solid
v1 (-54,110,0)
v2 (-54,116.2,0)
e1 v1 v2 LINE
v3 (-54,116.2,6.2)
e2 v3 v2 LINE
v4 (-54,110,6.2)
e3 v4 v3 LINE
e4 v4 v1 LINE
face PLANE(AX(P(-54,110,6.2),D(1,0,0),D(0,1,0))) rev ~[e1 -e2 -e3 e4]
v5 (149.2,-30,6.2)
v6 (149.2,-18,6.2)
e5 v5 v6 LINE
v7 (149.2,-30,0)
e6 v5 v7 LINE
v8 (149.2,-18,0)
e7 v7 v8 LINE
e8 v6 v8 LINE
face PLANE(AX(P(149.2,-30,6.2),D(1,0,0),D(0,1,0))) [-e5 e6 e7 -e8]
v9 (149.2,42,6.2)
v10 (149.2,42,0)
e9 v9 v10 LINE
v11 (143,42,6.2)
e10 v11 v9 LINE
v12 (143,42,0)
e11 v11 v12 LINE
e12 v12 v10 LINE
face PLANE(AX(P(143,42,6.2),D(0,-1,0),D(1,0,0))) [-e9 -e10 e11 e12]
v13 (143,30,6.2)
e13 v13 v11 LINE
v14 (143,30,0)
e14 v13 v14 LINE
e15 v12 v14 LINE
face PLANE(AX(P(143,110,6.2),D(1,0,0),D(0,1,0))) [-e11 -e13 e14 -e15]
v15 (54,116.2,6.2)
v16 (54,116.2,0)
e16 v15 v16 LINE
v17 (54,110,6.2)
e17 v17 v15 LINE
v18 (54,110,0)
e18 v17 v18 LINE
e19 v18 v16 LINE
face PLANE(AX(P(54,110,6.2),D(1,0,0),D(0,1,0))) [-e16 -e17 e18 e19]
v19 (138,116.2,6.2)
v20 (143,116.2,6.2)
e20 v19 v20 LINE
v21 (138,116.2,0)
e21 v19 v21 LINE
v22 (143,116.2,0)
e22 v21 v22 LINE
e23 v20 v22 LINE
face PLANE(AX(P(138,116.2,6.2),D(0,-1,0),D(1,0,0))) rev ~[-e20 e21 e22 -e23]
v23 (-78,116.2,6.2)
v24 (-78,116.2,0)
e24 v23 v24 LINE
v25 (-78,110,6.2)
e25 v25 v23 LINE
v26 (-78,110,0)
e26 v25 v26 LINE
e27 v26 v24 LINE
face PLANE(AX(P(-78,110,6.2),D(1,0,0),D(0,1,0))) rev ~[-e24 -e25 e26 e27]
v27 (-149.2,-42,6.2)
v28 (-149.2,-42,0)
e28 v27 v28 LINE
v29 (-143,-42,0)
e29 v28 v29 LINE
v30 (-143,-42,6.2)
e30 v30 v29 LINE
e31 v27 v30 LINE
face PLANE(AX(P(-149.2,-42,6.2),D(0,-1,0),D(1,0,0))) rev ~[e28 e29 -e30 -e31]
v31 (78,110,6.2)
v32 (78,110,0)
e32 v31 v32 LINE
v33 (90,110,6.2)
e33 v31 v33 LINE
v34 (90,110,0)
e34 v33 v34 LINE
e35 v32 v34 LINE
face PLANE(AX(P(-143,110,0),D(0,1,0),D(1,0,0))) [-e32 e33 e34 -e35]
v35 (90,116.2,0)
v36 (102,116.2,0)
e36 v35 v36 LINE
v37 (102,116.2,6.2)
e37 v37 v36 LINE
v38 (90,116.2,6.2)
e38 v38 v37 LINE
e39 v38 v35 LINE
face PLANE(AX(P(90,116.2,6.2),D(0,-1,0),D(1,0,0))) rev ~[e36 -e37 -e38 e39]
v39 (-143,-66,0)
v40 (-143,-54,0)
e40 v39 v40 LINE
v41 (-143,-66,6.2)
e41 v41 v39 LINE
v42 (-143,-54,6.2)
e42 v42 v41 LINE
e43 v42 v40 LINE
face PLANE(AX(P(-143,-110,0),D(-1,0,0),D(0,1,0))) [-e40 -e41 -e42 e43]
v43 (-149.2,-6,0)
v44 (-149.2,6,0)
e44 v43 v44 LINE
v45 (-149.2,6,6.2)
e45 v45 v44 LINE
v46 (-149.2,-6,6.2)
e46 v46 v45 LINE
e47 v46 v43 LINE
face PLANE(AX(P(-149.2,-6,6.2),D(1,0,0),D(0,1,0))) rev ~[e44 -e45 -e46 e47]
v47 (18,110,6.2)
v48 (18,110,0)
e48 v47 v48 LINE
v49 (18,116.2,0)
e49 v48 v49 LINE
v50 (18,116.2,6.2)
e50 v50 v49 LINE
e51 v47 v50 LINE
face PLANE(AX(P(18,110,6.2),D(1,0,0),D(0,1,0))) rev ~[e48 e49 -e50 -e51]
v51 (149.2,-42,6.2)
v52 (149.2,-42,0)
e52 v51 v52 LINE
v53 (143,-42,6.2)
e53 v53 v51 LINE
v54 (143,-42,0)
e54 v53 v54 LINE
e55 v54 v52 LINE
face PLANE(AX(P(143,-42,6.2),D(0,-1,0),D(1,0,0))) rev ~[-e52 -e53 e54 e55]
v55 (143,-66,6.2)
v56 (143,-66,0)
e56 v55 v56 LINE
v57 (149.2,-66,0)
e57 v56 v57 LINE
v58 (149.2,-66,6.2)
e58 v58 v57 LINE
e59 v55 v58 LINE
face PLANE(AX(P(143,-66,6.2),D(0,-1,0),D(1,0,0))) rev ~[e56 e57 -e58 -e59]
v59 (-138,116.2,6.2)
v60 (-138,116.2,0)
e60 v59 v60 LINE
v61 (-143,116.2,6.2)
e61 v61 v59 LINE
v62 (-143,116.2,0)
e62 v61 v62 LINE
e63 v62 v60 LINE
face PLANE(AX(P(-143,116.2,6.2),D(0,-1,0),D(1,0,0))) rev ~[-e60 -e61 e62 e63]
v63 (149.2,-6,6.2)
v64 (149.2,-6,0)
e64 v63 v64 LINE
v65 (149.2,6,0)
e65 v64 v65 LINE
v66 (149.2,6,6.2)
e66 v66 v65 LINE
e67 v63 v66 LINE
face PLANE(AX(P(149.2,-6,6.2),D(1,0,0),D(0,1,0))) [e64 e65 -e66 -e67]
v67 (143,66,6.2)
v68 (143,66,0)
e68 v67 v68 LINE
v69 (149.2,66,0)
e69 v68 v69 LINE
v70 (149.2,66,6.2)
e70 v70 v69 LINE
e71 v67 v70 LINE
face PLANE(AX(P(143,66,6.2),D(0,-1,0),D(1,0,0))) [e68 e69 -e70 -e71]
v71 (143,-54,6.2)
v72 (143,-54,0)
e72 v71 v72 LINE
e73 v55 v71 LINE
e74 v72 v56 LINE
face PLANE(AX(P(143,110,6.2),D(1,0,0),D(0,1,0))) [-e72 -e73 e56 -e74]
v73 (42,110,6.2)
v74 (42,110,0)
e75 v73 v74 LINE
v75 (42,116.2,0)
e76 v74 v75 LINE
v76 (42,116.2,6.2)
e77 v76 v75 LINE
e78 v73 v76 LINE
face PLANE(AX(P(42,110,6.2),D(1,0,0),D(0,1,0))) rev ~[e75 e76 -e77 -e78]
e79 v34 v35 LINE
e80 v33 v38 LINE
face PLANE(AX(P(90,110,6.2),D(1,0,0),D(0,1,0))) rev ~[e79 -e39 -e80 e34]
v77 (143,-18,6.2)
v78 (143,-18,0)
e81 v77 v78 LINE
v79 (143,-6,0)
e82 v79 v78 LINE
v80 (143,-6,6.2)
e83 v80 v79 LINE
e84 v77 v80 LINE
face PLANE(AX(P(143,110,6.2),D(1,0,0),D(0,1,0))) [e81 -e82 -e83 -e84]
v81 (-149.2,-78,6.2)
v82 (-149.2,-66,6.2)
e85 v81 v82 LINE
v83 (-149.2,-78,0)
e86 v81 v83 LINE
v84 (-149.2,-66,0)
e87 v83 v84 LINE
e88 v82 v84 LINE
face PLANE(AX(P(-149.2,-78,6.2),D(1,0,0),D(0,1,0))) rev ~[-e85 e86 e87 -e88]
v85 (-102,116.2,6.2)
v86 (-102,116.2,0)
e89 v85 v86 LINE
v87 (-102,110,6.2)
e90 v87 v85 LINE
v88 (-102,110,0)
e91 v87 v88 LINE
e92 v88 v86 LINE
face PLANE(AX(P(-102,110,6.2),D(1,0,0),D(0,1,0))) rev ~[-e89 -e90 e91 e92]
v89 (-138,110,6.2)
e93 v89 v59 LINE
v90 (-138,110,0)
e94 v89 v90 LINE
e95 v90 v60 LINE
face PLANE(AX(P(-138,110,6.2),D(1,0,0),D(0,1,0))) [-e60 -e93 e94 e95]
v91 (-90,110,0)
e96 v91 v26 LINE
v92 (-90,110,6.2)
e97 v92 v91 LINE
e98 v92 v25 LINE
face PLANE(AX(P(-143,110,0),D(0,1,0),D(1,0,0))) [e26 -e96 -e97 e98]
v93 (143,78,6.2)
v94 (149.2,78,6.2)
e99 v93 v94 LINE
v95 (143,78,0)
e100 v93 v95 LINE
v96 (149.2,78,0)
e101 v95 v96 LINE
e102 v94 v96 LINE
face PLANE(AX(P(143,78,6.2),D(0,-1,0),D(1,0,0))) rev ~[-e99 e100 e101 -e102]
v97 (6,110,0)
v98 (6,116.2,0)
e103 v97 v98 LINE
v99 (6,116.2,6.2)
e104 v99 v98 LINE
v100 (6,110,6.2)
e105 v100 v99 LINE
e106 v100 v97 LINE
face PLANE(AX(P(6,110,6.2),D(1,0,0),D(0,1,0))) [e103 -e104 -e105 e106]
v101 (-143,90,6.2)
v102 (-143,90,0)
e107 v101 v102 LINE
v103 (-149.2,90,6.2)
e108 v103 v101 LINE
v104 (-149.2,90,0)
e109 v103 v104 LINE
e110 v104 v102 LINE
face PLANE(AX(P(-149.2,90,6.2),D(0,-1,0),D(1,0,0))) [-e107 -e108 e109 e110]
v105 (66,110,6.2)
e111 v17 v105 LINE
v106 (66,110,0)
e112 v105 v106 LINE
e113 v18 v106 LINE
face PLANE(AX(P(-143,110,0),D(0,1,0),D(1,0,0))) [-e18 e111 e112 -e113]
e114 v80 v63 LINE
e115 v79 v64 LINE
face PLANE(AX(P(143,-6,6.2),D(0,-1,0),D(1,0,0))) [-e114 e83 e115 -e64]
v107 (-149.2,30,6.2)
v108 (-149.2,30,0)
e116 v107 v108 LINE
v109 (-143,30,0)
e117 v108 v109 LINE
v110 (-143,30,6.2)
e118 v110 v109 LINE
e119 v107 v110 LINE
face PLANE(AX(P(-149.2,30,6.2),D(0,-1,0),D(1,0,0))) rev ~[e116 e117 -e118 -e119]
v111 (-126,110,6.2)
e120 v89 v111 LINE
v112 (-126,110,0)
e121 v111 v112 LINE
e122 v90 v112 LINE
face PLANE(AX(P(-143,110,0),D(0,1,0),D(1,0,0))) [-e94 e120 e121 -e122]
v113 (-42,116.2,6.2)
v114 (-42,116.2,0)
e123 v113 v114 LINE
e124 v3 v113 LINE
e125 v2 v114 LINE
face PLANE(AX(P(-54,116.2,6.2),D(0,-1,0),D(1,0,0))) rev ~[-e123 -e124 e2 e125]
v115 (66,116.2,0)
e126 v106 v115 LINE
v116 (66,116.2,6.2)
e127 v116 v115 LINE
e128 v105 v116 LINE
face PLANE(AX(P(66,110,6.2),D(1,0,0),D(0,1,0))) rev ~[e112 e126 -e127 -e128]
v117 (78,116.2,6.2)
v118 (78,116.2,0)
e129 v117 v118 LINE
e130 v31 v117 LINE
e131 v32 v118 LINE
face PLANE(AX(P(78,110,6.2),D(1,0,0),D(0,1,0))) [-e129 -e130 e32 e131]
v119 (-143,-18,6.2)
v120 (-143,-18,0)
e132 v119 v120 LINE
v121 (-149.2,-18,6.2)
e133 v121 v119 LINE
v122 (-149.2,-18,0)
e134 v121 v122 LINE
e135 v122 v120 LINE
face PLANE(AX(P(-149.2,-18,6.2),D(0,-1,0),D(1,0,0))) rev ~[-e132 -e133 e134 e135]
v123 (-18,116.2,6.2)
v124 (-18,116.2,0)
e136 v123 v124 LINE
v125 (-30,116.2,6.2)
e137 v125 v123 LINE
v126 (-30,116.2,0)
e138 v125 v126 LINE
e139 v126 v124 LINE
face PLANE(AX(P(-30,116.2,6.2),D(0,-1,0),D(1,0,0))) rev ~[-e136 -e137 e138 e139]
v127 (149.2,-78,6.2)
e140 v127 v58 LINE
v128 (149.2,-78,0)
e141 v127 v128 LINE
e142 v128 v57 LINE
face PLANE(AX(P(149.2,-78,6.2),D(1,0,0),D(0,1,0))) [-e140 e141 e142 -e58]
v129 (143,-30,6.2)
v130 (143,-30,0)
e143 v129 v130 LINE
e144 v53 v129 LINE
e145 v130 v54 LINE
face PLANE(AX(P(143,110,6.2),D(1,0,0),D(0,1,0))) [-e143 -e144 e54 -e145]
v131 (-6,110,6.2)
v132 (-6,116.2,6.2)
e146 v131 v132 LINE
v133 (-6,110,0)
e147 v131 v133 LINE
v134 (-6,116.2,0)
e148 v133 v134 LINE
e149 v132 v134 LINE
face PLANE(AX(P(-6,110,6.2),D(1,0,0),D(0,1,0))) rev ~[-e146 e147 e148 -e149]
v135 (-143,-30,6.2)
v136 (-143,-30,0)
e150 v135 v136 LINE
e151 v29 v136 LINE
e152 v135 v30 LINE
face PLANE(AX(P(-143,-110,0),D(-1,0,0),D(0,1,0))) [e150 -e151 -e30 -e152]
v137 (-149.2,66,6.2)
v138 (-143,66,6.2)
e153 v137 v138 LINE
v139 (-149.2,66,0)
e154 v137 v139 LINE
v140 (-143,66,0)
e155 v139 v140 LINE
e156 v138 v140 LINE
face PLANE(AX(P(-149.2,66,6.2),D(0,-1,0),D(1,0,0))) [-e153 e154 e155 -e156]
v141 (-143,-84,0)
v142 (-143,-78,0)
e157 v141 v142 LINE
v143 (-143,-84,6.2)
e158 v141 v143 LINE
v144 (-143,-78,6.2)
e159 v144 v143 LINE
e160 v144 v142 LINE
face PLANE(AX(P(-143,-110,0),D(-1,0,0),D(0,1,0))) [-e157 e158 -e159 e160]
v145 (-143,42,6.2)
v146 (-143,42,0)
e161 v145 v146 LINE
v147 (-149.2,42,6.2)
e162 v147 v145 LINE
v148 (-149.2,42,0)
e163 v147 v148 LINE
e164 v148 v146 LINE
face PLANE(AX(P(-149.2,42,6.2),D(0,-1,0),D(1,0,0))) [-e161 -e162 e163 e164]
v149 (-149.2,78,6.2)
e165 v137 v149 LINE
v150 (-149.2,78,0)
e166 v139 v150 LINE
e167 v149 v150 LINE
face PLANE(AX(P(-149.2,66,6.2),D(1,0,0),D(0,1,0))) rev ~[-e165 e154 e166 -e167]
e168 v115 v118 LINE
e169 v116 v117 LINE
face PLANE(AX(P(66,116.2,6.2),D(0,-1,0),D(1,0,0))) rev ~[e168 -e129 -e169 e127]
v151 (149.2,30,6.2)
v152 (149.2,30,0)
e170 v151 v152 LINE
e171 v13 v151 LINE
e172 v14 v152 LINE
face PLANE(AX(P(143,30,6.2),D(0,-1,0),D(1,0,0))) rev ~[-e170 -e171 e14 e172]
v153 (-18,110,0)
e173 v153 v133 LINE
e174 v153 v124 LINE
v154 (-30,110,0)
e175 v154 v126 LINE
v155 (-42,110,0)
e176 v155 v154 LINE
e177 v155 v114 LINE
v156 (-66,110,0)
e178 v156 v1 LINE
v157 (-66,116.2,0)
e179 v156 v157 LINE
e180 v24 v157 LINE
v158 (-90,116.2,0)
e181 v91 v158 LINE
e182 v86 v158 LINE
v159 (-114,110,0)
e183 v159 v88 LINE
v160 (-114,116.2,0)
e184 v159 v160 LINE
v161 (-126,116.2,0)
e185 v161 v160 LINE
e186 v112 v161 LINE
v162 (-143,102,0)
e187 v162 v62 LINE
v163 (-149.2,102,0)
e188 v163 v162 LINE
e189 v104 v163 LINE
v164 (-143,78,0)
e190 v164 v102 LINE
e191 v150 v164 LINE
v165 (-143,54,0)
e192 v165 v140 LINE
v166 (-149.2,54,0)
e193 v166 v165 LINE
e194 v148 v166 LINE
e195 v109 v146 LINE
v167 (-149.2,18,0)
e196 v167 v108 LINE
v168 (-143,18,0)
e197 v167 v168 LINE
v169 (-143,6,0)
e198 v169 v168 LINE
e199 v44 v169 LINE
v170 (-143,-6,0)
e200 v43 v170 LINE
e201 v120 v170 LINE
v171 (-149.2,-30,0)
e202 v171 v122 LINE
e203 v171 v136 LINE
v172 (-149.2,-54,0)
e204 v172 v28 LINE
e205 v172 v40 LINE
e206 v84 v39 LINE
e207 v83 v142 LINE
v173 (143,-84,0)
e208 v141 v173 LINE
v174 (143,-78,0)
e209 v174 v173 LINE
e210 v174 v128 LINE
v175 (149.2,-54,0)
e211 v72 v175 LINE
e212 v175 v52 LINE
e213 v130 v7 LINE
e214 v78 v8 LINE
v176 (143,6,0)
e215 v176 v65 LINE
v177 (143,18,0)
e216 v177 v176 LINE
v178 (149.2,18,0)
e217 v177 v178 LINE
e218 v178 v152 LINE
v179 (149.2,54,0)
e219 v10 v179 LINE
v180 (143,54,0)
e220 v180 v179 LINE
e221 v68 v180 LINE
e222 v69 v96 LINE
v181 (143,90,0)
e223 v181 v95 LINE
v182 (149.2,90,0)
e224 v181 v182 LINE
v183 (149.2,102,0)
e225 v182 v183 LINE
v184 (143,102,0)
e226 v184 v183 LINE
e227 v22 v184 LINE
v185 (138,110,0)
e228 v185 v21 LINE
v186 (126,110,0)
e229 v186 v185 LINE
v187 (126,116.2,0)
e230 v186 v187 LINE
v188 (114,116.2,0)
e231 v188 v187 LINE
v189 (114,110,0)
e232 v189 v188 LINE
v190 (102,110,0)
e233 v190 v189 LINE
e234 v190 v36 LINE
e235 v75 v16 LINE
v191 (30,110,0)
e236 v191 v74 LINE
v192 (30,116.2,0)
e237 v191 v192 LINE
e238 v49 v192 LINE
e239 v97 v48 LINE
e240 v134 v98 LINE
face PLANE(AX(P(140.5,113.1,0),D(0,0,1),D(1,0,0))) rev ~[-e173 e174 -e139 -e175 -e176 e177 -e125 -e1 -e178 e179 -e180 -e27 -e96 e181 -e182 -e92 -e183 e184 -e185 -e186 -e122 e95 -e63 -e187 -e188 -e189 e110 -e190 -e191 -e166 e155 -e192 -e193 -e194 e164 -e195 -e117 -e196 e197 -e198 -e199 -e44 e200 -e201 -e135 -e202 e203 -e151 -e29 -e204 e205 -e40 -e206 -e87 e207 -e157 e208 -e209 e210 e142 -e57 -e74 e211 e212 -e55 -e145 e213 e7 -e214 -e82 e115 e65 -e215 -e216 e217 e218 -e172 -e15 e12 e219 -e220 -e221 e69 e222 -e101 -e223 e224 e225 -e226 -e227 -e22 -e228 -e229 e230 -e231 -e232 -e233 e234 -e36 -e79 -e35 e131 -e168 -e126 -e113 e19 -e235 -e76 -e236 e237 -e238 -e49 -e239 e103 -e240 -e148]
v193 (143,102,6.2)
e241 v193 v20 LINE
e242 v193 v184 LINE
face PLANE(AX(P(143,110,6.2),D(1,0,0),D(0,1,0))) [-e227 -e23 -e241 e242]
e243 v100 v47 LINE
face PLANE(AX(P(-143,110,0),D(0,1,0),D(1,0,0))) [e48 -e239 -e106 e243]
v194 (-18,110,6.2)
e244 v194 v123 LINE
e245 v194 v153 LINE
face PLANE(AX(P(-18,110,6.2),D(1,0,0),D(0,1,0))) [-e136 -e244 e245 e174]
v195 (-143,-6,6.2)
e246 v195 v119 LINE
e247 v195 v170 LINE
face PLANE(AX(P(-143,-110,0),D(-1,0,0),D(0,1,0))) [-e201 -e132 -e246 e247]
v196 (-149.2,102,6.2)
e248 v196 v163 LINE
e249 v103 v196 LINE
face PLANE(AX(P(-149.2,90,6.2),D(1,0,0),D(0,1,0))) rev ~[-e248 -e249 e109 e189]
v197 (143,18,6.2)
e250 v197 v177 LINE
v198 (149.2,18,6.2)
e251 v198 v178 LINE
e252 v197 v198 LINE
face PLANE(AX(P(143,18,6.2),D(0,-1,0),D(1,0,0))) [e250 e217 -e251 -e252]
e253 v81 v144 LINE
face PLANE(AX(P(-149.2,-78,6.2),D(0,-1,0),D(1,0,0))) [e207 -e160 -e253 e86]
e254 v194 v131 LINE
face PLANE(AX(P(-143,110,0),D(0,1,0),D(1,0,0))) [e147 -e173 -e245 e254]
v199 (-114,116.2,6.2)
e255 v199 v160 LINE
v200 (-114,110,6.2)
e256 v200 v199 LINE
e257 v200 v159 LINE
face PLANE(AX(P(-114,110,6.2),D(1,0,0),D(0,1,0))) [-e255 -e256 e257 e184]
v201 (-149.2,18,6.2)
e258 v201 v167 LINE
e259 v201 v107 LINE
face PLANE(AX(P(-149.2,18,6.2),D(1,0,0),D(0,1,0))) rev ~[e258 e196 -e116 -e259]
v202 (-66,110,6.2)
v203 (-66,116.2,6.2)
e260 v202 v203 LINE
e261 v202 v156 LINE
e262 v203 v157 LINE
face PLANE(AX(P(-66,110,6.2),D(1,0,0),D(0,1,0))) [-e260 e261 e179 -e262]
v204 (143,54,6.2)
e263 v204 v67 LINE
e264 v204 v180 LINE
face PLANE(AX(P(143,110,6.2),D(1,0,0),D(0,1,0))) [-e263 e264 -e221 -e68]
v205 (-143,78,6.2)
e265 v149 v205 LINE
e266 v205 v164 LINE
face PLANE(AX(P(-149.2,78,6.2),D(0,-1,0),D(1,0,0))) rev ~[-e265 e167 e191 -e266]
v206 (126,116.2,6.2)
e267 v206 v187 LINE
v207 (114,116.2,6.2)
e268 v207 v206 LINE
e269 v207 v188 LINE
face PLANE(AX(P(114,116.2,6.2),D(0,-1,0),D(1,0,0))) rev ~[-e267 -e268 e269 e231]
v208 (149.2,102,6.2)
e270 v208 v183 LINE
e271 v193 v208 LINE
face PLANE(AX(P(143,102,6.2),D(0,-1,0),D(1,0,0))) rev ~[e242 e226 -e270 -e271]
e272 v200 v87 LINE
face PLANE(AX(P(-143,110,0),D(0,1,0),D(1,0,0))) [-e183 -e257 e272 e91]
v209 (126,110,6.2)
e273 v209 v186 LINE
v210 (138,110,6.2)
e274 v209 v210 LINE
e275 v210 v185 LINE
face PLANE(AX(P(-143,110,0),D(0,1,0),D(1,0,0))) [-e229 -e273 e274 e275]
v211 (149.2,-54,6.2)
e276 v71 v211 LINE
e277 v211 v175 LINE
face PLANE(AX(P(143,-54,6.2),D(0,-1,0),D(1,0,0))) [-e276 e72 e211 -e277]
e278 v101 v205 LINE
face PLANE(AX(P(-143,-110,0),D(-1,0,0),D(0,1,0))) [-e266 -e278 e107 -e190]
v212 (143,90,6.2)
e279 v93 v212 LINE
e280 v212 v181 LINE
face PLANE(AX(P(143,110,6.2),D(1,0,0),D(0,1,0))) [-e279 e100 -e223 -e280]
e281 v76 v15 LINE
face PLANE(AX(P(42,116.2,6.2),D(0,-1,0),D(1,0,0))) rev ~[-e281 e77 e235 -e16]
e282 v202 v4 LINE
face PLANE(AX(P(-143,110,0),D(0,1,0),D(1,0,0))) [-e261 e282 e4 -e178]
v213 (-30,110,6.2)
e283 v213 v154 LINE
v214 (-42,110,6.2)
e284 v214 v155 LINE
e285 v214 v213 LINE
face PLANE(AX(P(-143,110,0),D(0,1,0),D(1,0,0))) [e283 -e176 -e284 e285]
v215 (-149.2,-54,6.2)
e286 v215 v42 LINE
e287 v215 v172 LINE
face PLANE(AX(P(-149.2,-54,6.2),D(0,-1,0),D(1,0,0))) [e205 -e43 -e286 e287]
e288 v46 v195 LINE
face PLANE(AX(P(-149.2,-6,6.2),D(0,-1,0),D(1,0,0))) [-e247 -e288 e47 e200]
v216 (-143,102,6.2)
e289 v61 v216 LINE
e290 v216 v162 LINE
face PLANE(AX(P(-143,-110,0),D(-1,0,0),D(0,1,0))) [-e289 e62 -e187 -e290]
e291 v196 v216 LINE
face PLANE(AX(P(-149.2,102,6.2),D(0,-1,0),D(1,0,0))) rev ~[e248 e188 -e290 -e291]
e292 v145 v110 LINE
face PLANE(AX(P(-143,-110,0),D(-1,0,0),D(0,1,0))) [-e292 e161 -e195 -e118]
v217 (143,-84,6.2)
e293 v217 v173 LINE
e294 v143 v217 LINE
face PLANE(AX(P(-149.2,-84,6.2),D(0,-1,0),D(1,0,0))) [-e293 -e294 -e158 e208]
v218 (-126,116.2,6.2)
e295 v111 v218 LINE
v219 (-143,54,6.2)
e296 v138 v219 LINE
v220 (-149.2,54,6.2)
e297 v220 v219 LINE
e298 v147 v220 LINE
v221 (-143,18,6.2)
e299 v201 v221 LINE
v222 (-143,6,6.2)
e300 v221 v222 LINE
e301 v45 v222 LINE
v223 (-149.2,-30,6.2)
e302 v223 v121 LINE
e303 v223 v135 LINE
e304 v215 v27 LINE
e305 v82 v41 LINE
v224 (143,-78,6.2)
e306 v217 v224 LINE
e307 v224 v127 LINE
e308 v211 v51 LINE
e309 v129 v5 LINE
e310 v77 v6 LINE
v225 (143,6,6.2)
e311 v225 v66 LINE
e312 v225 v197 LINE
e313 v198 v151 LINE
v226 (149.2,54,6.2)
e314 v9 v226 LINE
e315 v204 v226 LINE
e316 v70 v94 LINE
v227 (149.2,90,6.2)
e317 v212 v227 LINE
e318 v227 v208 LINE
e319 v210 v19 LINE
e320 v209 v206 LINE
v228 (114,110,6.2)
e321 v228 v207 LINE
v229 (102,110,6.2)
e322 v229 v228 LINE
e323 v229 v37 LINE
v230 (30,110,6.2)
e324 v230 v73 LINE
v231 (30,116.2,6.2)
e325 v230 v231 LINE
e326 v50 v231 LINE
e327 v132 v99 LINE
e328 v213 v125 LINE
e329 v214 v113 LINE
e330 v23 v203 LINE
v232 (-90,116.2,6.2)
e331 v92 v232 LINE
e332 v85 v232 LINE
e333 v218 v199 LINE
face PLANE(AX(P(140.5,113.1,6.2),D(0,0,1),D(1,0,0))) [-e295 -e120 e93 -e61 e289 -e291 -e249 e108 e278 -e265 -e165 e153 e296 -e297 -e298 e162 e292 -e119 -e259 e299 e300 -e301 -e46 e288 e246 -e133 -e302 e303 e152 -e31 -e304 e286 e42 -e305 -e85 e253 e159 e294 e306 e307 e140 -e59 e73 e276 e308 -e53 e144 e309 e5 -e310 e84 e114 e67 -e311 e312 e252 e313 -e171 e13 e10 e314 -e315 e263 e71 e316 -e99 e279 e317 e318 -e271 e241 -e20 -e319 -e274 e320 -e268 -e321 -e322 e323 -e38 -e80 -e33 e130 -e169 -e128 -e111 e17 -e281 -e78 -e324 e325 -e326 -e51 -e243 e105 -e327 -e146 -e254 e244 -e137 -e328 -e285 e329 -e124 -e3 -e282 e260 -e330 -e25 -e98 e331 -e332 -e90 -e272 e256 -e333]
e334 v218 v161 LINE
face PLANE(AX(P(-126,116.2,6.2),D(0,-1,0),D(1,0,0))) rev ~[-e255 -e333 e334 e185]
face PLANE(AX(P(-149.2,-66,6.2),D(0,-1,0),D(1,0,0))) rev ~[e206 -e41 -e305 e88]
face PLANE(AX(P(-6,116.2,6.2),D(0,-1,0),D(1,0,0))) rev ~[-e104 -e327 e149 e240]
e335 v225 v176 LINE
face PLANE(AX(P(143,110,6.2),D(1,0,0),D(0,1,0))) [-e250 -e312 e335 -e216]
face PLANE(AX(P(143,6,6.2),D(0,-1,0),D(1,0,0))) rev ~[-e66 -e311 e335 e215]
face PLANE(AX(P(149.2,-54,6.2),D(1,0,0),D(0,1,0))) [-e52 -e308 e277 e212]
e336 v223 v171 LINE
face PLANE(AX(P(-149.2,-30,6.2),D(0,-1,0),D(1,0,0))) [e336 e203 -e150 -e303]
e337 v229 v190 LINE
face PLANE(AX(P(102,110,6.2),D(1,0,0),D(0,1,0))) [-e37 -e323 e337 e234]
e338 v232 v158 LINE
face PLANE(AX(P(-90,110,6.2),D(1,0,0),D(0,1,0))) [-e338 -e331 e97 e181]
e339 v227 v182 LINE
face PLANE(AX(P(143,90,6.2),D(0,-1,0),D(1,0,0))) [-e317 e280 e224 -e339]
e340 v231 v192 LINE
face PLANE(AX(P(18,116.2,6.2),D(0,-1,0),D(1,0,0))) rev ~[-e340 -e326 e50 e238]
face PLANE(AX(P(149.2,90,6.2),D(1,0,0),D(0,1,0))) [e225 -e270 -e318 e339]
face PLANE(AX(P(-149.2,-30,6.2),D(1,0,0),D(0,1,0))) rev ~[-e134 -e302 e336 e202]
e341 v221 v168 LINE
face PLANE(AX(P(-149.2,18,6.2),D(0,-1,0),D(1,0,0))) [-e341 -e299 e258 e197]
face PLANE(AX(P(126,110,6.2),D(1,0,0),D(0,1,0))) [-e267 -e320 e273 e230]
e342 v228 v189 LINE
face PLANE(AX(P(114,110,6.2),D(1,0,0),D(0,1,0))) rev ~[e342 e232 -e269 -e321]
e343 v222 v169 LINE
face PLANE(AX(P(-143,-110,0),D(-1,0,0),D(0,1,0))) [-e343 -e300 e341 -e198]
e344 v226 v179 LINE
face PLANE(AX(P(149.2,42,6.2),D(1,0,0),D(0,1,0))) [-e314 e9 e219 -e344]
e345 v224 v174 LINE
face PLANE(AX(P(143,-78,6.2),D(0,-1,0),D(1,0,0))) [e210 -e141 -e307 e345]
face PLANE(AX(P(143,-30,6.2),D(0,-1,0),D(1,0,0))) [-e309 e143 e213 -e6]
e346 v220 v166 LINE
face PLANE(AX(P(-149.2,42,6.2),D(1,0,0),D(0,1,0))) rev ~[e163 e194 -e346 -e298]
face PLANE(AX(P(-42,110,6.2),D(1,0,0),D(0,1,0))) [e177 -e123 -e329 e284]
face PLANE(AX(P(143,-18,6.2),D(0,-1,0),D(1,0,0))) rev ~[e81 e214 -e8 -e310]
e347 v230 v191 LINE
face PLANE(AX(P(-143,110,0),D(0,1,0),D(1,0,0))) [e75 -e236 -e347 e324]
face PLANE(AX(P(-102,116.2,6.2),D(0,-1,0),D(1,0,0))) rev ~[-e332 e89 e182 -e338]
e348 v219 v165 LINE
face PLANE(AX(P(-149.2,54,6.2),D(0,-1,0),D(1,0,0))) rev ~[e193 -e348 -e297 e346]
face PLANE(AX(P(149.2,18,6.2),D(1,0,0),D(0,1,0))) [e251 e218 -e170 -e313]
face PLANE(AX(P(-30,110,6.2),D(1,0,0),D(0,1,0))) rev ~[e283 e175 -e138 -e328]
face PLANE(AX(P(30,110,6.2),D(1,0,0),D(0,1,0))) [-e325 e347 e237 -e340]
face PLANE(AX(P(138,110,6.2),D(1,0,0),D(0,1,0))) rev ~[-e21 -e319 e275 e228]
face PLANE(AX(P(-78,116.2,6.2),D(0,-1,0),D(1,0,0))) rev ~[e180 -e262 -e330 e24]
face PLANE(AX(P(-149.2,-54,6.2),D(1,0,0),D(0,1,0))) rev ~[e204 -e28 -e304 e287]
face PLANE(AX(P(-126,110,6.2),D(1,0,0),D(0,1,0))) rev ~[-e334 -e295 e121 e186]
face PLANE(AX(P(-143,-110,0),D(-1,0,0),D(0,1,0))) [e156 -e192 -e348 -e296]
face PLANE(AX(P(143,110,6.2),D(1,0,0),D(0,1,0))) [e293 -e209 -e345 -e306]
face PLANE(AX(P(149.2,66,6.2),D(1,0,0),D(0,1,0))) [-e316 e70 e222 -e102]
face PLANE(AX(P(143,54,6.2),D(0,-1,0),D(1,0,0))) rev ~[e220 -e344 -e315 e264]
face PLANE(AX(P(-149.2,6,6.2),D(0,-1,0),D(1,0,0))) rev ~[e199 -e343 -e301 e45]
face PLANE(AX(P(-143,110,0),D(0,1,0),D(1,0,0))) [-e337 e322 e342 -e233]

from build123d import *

# Parameters (mm, degrees)
F0_W     = 286
F0_H     = 220
F1_DEPTH = 6.2
F2_W     = 5
F2_H     = 6.2
F2_W_2   = 12
F3_DEPTH = 6.2
F4_W     = 6.2
F4_H     = 12
F5_DEPTH = 6.2
F6_W     = 329.66836555
F6_H     = 26
F7_DEPTH = 6.201


with BuildPart() as f1:
    # F0 (on Top) → F1 (new body)
    with BuildSketch(Plane.XY):
        Rectangle(F0_W, F0_H)
    extrude(amount=F1_DEPTH)

    # F2 (on face) → F3 (join, through all)
    with BuildSketch(Plane.XY.offset(6.2)):
        with Locations((140.5, 113.1)):
            Rectangle(F2_W, F2_H)
        with Locations((120, 113.1)):
            Rectangle(F2_W_2, F2_H)
        with Locations((96, 113.1)):
            Rectangle(F2_W_2, F2_H)
        with Locations((72, 113.1)):
            Rectangle(F2_W_2, F2_H)
        with Locations((48, 113.1)):
            Rectangle(F2_W_2, F2_H)
        with Locations((24, 113.1)):
            Rectangle(F2_W_2, F2_H)
        with Locations((0, 113.1)):
            Rectangle(F2_W_2, F2_H)
        with Locations((-24, 113.1)):
            Rectangle(F2_W_2, F2_H)
        with Locations((-48, 113.1)):
            Rectangle(F2_W_2, F2_H)
        with Locations((-72, 113.1)):
            Rectangle(F2_W_2, F2_H)
        with Locations((-96, 113.1)):
            Rectangle(F2_W_2, F2_H)
        with Locations((-120, 113.1)):
            Rectangle(F2_W_2, F2_H)
        with Locations((-140.5, 113.1)):
            Rectangle(F2_W, F2_H)
    extrude(amount=-F3_DEPTH)

    # F4 (on face) → F5 (join, through all)
    with BuildSketch(Plane.XY.offset(6.2)):
        with Locations((146.1, -96)):
            Rectangle(F4_W, F4_H)
        with Locations((146.1, -72)):
            Rectangle(F4_W, F4_H)
        with Locations((146.1, -48)):
            Rectangle(F4_W, F4_H)
        with Locations((146.1, -24)):
            Rectangle(F4_W, F4_H)
        with Locations((146.1, 0)):
            Rectangle(F4_W, F4_H)
        with Locations((146.1, 24)):
            Rectangle(F4_W, F4_H)
        with Locations((146.1, 48)):
            Rectangle(F4_W, F4_H)
        with Locations((146.1, 72)):
            Rectangle(F4_W, F4_H)
        with Locations((146.1, 96)):
            Rectangle(F4_W, F4_H)
        with Locations((-146.1, 96)):
            Rectangle(F4_W, F4_H)
        with Locations((-146.1, 72)):
            Rectangle(F4_W, F4_H)
        with Locations((-146.1, 48)):
            Rectangle(F4_W, F4_H)
        with Locations((-146.1, 24)):
            Rectangle(F4_W, F4_H)
        with Locations((-146.1, 0)):
            Rectangle(F4_W, F4_H)
        with Locations((-146.1, -24)):
            Rectangle(F4_W, F4_H)
        with Locations((-146.1, -48)):
            Rectangle(F4_W, F4_H)
        with Locations((-146.1, -72)):
            Rectangle(F4_W, F4_H)
        with Locations((-146.1, -96)):
            Rectangle(F4_W, F4_H)
    extrude(amount=-F5_DEPTH)

    # F6 (on face) → F7 (cut, through all)
    with BuildSketch(Plane.XY.offset(6.2)):
        with Locations((15.634182775, -97)):
            Rectangle(F6_W, F6_H)
    extrude(amount=-F7_DEPTH, mode=Mode.SUBTRACT)


solid = f1.part
